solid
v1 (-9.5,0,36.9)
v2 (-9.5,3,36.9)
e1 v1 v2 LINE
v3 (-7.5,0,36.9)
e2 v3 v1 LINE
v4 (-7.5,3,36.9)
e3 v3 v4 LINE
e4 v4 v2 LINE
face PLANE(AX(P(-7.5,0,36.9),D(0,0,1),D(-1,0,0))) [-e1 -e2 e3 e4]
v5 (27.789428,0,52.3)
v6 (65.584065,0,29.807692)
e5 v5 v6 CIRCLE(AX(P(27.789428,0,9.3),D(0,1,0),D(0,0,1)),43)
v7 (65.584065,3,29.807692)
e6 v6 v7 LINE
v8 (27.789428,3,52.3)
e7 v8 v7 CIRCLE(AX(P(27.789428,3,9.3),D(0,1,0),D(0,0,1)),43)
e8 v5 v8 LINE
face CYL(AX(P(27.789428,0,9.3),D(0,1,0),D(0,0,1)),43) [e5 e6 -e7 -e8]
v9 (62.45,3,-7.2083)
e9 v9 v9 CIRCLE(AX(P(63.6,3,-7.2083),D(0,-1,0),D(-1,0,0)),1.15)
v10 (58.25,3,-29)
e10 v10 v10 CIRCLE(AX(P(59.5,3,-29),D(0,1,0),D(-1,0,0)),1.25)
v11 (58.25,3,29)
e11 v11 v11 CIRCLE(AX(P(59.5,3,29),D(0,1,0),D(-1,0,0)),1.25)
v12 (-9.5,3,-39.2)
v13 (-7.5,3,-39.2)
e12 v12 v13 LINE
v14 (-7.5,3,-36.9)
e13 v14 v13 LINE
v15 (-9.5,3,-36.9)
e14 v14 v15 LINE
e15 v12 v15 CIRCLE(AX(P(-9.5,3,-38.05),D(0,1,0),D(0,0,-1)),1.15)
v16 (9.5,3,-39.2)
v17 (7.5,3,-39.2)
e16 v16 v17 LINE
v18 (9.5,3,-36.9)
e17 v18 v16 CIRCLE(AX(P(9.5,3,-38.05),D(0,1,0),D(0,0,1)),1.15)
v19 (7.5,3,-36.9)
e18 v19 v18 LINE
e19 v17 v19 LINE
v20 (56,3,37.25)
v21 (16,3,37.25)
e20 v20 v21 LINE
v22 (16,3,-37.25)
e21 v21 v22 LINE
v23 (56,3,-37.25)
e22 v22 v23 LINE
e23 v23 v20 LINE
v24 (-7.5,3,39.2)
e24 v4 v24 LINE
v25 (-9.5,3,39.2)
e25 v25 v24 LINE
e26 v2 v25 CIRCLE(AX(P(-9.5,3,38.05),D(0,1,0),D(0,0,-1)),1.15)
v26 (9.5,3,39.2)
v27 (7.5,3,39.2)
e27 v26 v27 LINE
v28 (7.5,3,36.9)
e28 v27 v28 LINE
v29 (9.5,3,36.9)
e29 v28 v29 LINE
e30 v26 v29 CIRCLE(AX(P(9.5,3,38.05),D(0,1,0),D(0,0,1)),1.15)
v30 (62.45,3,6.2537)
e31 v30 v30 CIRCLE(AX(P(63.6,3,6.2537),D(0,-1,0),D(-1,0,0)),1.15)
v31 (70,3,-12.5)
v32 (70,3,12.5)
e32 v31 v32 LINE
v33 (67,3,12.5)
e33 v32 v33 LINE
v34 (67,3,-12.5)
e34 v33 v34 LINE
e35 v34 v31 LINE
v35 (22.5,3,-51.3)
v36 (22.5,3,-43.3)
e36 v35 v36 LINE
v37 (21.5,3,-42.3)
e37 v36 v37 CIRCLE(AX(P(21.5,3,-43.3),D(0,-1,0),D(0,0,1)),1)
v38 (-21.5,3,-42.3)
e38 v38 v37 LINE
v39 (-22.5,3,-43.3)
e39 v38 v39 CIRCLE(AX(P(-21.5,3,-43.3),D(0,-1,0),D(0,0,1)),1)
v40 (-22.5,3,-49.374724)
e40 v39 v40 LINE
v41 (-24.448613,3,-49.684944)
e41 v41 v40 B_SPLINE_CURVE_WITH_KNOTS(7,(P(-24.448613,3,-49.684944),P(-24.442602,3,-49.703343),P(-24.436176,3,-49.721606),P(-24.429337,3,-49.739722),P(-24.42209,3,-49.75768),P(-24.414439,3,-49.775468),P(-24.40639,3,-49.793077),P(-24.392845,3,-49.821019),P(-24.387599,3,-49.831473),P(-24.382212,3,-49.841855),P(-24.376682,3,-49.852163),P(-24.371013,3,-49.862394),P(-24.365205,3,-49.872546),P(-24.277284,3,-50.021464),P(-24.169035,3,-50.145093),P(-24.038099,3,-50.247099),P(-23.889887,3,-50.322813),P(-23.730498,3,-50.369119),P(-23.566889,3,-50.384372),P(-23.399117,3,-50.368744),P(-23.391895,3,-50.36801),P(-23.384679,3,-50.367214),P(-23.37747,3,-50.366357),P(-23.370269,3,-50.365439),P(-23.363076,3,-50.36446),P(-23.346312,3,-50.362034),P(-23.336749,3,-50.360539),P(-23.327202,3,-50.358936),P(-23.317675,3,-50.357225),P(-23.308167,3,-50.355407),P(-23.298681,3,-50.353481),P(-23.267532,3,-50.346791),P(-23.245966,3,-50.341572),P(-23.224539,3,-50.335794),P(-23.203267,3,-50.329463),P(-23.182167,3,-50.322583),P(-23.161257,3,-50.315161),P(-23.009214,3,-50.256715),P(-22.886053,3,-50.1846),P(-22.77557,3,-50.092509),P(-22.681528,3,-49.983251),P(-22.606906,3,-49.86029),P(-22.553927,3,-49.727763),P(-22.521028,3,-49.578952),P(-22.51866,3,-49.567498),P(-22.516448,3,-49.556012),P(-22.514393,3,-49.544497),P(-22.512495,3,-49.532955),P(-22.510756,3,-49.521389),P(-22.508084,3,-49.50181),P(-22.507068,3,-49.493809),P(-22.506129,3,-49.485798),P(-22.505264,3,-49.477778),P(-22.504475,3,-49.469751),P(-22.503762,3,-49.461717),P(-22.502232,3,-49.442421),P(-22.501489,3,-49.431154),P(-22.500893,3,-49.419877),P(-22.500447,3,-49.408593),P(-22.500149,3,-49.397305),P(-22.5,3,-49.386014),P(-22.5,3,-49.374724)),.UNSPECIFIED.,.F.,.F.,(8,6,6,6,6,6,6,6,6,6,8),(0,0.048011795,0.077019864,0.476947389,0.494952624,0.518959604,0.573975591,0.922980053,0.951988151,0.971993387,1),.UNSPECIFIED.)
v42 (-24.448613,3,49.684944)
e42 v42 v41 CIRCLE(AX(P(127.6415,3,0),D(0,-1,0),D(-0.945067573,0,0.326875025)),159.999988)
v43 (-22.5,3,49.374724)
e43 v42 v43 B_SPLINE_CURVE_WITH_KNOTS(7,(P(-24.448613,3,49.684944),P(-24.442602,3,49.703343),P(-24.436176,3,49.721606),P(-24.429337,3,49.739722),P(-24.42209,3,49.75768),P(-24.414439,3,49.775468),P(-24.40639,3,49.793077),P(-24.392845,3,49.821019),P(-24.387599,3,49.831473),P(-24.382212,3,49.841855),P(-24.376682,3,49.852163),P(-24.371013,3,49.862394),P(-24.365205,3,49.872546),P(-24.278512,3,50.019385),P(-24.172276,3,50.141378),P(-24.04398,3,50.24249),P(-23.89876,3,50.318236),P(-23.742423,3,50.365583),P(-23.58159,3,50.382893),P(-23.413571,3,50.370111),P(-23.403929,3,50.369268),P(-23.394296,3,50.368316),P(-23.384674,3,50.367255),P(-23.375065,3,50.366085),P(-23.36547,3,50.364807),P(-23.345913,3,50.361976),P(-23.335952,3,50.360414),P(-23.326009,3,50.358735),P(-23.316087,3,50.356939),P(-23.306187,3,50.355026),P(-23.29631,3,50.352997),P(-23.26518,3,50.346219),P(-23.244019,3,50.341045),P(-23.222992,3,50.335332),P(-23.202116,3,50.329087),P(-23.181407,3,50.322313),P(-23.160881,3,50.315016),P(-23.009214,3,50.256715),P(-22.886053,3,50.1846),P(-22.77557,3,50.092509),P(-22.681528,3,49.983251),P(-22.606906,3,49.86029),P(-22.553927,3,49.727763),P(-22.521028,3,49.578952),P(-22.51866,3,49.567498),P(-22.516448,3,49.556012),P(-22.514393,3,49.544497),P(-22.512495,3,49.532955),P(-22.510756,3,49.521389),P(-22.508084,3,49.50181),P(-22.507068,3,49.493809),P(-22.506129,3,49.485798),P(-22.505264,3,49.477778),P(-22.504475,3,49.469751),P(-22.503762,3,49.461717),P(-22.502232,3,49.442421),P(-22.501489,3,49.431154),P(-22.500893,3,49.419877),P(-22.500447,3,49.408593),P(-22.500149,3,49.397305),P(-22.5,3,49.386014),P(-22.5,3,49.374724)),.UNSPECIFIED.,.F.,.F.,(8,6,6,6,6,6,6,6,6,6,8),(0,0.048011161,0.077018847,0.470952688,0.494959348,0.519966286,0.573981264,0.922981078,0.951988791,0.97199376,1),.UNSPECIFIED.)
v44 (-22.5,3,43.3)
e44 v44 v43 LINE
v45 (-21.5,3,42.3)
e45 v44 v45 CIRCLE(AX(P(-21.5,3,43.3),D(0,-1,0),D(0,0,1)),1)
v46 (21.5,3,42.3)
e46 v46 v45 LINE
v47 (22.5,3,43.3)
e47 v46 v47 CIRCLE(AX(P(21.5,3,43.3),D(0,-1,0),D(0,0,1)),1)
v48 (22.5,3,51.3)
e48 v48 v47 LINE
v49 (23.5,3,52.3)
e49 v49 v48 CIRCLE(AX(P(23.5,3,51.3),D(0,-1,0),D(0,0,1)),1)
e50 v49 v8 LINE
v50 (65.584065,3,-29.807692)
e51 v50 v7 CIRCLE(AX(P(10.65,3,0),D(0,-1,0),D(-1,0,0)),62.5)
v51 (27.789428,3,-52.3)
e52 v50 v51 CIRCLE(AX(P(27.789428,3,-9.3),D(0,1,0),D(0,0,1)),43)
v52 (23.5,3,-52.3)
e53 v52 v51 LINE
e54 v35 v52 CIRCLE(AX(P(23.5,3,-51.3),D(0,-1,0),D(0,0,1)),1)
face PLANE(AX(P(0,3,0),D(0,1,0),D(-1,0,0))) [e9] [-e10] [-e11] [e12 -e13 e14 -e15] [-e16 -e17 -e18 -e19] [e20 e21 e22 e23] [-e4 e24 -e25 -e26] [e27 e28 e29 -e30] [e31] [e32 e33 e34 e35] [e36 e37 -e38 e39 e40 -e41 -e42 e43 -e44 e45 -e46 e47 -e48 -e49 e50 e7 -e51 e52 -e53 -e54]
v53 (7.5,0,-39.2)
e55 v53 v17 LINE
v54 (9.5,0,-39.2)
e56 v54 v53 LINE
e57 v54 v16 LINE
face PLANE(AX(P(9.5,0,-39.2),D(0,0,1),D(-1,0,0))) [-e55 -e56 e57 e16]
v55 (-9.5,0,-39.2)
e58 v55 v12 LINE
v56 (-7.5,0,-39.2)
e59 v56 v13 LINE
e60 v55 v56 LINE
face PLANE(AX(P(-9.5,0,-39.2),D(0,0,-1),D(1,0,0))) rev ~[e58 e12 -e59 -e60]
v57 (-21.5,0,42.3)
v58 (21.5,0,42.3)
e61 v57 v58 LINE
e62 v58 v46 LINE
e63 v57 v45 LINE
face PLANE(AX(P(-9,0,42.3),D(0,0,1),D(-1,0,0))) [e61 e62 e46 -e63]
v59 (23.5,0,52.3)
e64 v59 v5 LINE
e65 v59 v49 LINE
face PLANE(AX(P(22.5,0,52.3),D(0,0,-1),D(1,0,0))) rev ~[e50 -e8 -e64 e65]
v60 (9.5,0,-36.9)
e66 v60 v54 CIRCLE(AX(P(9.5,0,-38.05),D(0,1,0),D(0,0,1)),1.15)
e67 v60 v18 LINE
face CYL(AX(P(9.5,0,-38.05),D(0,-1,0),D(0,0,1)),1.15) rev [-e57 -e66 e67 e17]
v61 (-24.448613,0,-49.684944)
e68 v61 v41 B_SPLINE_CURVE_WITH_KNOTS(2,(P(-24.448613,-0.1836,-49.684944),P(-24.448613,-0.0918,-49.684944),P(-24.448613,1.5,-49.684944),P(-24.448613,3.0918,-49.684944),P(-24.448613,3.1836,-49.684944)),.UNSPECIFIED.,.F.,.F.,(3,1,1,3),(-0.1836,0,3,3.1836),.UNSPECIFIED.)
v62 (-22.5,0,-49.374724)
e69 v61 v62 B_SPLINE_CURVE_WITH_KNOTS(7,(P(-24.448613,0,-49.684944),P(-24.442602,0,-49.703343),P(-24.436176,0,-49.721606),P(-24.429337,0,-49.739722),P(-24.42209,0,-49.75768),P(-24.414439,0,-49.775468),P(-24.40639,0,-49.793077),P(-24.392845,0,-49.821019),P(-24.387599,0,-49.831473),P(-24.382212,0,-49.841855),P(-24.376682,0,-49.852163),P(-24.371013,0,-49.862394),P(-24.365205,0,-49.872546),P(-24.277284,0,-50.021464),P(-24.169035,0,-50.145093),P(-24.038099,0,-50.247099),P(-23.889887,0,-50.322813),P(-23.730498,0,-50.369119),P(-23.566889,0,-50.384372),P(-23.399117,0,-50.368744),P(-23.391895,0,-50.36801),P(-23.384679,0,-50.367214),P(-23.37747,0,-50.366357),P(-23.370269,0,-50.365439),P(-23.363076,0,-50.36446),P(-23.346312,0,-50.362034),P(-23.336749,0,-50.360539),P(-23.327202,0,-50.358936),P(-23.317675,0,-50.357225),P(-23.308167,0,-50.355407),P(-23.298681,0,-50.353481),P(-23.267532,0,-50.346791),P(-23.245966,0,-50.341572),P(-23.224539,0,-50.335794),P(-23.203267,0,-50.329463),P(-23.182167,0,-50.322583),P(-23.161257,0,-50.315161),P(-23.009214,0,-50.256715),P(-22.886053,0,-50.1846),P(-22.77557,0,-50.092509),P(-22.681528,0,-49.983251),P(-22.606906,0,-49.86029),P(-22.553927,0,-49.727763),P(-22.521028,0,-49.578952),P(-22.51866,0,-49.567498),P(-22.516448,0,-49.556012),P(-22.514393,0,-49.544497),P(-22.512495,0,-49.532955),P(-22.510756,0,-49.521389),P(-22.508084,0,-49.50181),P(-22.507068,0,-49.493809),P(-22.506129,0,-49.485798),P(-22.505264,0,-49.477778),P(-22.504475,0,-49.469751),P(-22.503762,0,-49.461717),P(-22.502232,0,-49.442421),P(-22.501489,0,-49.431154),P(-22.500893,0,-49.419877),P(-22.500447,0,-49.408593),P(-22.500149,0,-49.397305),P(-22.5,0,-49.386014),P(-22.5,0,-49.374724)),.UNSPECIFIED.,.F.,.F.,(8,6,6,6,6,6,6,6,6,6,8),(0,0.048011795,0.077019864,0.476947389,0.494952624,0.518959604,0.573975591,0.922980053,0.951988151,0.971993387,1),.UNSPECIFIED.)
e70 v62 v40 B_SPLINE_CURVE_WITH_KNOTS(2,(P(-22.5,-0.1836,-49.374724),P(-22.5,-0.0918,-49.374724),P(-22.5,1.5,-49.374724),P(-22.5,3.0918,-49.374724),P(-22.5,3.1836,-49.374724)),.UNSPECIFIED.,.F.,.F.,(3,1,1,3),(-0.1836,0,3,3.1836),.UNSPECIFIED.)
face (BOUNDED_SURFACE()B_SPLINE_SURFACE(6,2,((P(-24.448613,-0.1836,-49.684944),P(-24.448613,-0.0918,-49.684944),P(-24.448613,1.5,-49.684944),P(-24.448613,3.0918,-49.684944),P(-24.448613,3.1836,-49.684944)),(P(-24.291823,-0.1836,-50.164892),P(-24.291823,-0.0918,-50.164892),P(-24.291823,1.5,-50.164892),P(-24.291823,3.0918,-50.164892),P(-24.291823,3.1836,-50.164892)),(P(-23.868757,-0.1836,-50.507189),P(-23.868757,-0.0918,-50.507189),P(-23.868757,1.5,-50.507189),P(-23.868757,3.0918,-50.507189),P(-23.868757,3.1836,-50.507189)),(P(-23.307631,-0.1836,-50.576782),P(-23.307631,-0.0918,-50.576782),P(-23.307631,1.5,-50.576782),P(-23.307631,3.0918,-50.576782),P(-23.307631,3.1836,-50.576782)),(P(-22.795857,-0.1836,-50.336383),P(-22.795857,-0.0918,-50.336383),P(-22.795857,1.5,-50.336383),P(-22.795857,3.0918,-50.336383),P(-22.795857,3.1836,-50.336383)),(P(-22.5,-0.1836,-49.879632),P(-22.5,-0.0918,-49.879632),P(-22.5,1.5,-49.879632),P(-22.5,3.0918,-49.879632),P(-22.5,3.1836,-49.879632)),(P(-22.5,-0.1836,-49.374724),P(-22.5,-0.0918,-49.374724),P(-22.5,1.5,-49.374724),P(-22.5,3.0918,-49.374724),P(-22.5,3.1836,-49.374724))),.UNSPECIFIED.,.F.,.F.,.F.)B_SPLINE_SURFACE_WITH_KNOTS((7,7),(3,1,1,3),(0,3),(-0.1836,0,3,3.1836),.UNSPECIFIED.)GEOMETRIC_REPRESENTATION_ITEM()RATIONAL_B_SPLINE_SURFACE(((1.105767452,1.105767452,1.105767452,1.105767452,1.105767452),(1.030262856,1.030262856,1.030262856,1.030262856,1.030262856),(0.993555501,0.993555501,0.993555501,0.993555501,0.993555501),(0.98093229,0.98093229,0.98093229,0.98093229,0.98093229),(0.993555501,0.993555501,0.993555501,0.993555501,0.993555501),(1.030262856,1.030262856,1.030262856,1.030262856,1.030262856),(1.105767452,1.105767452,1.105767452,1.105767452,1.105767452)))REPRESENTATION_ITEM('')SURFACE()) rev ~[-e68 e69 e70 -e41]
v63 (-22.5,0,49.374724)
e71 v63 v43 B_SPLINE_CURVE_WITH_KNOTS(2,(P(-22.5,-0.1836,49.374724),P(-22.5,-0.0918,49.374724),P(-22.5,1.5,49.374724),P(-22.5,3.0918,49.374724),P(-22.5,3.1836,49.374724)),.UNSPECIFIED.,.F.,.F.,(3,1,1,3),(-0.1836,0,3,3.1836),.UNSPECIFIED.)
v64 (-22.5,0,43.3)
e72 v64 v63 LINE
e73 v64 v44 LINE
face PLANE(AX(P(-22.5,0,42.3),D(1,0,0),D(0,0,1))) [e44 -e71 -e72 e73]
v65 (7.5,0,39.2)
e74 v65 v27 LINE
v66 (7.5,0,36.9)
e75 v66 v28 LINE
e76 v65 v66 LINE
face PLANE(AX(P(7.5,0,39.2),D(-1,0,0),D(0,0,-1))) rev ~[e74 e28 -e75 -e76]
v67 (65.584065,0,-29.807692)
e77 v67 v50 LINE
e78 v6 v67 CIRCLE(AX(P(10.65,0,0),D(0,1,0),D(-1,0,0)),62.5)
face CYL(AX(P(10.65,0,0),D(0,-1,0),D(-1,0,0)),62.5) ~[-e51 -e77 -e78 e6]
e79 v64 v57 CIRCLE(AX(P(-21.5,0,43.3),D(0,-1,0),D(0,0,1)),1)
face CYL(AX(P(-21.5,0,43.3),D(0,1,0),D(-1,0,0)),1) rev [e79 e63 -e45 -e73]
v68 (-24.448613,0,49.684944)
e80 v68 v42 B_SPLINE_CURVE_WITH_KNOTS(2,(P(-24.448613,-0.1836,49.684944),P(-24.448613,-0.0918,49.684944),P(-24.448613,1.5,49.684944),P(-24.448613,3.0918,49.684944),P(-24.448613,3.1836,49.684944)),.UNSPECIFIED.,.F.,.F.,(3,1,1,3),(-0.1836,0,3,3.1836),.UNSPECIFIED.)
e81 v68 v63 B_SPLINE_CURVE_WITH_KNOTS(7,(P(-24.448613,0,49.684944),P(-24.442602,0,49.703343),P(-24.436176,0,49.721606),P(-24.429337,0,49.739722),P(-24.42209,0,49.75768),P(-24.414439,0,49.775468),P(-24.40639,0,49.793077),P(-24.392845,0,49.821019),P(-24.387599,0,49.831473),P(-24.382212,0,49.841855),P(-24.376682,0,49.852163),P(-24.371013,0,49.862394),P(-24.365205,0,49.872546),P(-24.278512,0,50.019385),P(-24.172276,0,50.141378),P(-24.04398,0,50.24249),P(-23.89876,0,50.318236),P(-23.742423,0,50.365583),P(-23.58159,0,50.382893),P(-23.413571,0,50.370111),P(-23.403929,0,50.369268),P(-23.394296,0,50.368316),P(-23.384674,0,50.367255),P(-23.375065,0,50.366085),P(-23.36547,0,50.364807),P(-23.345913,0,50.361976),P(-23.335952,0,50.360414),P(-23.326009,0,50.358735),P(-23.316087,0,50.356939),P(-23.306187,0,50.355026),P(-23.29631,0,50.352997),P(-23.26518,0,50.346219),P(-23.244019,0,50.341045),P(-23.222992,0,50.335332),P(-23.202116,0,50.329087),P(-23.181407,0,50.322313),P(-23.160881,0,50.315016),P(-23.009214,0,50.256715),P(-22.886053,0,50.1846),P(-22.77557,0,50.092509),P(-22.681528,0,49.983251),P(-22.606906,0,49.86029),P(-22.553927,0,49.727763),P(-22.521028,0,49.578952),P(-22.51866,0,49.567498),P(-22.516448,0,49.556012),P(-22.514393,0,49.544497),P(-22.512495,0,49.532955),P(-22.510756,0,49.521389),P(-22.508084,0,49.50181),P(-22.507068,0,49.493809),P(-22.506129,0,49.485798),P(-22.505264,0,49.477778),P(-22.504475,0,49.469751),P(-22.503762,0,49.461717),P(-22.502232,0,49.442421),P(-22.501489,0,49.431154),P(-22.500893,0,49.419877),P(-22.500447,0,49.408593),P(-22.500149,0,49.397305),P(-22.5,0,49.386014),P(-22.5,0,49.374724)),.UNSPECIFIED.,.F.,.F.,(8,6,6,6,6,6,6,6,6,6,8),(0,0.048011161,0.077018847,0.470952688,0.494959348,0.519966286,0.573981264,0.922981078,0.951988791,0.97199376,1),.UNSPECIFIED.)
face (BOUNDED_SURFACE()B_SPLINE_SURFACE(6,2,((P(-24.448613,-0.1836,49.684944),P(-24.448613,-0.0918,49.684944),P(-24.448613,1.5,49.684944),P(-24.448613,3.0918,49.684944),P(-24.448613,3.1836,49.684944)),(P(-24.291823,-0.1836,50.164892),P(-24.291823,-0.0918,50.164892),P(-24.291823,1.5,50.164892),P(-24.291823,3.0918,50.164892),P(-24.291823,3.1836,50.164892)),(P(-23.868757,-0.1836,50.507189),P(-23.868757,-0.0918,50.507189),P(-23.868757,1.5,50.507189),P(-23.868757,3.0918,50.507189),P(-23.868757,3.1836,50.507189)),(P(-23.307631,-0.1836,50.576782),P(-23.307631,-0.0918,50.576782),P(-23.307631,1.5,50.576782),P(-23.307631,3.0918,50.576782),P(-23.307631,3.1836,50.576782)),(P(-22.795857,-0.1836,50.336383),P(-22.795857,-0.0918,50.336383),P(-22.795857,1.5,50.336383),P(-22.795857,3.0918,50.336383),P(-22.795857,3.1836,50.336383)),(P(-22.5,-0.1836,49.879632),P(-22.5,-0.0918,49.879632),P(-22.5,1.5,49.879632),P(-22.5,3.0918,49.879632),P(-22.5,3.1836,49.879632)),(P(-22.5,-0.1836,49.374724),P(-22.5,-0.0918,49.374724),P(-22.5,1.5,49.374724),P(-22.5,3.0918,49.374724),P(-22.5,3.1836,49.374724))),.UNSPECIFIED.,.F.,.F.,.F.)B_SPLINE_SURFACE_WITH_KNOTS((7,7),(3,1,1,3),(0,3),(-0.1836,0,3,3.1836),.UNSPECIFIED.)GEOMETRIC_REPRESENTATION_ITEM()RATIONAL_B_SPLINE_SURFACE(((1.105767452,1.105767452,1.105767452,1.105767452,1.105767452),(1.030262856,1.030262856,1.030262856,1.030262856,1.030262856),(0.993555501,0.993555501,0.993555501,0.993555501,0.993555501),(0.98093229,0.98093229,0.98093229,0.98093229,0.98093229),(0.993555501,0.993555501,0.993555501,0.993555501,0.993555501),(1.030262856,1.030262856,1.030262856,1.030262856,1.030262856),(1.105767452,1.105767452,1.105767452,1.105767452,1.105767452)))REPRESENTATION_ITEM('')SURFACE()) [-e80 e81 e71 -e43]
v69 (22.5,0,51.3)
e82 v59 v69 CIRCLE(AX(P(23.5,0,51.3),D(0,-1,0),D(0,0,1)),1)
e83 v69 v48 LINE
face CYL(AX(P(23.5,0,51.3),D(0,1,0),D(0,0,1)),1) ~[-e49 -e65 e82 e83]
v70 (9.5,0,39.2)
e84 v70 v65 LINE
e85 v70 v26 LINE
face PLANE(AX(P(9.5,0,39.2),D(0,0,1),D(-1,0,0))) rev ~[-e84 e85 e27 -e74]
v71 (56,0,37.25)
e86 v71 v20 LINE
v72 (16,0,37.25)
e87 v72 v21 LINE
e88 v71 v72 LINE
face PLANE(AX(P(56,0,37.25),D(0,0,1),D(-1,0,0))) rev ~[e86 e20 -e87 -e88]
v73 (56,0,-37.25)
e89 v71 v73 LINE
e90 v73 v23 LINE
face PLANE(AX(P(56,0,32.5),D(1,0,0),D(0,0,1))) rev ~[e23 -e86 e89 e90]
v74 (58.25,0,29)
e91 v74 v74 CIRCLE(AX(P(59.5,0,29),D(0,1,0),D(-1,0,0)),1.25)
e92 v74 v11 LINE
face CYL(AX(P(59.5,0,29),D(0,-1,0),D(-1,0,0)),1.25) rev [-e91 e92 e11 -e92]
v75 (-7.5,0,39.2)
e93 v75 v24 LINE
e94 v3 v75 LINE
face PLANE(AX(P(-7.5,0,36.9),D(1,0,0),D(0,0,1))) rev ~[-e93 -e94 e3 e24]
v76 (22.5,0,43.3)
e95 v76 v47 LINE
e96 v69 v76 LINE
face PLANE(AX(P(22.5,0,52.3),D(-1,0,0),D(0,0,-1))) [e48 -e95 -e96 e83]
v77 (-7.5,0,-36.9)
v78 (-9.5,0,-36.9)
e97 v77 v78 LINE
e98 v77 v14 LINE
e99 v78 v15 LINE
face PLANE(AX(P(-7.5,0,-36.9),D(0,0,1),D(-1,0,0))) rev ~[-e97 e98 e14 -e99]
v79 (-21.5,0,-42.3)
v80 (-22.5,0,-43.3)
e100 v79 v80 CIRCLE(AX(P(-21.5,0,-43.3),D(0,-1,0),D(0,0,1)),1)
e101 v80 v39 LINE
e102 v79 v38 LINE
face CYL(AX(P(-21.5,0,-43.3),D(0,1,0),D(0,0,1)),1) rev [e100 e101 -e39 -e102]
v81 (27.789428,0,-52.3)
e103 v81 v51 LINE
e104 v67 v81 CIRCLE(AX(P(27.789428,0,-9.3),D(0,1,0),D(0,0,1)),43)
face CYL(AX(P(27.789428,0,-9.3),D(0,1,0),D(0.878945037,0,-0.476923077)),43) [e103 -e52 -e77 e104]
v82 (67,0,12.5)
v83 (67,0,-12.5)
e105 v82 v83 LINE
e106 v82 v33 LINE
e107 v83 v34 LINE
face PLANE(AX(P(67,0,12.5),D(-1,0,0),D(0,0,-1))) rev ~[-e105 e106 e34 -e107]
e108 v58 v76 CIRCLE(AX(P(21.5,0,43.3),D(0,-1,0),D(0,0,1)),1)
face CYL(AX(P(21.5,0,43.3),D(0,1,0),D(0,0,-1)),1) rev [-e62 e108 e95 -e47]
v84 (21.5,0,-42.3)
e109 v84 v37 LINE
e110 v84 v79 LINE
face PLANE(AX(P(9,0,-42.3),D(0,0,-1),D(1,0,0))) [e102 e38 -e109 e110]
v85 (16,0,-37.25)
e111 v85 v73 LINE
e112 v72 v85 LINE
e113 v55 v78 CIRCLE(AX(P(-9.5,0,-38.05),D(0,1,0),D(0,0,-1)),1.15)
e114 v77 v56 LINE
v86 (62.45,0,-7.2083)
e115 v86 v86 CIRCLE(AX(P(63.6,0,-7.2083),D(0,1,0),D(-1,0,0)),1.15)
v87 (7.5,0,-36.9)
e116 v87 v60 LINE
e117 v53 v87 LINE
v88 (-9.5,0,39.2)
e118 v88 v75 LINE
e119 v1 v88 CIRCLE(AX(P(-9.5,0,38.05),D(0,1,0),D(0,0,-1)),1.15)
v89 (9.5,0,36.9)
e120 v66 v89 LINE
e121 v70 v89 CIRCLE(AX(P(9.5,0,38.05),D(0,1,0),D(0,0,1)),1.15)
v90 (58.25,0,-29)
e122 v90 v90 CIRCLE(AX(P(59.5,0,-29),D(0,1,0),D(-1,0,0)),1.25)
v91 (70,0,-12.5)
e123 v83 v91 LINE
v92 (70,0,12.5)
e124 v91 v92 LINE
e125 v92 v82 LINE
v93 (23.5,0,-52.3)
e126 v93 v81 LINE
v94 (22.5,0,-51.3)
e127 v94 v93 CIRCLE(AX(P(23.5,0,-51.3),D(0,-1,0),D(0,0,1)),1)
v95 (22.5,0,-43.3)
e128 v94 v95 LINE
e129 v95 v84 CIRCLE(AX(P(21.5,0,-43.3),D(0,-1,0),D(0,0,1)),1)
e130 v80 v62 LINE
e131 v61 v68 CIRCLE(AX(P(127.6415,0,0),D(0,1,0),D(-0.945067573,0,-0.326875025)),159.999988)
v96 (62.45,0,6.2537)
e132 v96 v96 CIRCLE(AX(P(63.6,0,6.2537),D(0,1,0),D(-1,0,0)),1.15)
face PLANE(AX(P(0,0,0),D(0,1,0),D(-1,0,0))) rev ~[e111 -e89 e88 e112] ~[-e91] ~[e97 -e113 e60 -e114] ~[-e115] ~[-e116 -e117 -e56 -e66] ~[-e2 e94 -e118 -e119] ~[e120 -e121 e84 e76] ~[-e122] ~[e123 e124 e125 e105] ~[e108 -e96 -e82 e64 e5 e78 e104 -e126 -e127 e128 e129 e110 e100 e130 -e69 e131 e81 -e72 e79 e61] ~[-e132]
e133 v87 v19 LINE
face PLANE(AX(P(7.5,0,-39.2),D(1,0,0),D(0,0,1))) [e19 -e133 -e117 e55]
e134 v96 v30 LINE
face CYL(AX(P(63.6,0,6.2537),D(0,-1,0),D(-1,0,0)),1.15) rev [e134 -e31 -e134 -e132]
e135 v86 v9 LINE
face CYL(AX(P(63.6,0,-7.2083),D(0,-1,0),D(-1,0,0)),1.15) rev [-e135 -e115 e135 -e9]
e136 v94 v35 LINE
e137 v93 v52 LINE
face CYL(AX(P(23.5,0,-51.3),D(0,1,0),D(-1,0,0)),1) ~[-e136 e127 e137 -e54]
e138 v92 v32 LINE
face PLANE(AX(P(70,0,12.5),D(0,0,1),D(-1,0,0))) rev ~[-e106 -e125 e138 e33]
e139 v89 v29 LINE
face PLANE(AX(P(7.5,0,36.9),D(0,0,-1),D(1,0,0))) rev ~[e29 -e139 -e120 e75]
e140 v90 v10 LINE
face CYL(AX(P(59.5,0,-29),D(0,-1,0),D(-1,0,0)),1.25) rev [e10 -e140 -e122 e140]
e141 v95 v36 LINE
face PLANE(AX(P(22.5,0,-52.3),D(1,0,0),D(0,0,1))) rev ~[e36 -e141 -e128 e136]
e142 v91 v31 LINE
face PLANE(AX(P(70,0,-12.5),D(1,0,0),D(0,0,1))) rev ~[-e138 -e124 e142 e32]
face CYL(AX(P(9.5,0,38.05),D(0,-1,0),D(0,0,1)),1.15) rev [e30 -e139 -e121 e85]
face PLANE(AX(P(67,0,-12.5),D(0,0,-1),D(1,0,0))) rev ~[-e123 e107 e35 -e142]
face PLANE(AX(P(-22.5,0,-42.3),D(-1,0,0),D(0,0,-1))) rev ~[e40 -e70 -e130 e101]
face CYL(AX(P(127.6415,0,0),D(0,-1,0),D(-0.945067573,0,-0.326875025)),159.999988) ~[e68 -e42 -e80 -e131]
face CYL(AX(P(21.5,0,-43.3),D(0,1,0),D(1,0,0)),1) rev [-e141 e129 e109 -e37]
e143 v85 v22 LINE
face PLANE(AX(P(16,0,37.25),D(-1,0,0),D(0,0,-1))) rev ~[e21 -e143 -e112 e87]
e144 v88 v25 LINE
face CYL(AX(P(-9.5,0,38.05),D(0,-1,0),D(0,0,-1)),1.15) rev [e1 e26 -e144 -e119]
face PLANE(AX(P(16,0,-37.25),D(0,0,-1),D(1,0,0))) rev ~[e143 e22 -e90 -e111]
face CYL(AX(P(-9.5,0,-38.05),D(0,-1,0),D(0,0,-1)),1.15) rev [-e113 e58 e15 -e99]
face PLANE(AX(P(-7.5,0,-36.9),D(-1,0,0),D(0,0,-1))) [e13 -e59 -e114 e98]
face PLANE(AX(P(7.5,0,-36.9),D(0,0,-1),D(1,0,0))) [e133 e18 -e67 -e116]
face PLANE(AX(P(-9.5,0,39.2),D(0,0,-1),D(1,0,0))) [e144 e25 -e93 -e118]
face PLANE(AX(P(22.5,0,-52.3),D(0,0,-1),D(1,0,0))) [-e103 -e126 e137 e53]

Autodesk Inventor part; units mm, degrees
ref_plane "YZ Plane" through (0, 0, 0) normal (1, 0, 0) x (0, 1, 0)
ref_plane "XZ Plane" through (0, 0, 0) normal (0, 1, 0) x (-1, 0, 0)
ref_plane "XY Plane" through (0, 0, 0) normal (0, 0, 1) x (1, 0, 0)
sketch "Boceto2" plane through (0, 0, 0) normal (0, 1, 0) x (-1, 0, 0)
  circle A0 centre (-10.65, 0) radius 62.5
  line L0 (-63, 32.5) -> (-63, -32.5)
  line L1 (-63, -32.5) -> (-33, -32.5)
  line L2 (-33, -32.5) -> (-33, 32.5)
  line L3 (-33, 32.5) -> (-63, 32.5)
  circle A1 centre (-59.5, -29) radius 1.25
  line L4 (0, 6.809) -> (0, -6.809)
  line L5 (10.65, 0) -> (-10.65, 0) construction
  circle A2 centre (-36.5, -29) radius 1.25
  circle A3 centre (-59.5, 29) radius 1.25
  circle A4 centre (-36.5, 29) radius 1.25
  line L6 (7.5, -42.3) -> (-7.5, -42.3)
  line L7 (-7.5, -42.3) -> (-7.5, -25)
  line L8 (-7.5, -25) -> (7.5, -25)
  line L9 (7.5, -25) -> (7.5, -42.3)
  arc A5 (9, -42.3) -> (9, -33.8) centre (9, -38.05) ccw
  line L10 (9, -42.3) -> (7.5, -42.3)
  line L11 (9, -33.8) -> (7.5, -33.8)
  arc A6 (9.5, -39.2) -> (9.5, -36.9) centre (9.5, -38.05) ccw
  line L12 (9.5, -39.2) -> (7.5, -39.2)
  line L13 (7.5, -39.2) -> (7.5, -36.9)
  line L14 (7.5, -36.9) -> (9.5, -36.9)
  line L15 (9.5, -36.9) -> (9.5, -39.2)
  arc A7 (-9, -33.8) -> (-9, -42.3) centre (-9, -38.05) ccw
  line L16 (-9, -42.3) -> (-7.5, -42.3)
  line L17 (-9, -33.8) -> (-7.5, -33.8)
  arc A8 (-9.5, -36.9) -> (-9.5, -39.2) centre (-9.5, -38.05) ccw
  line L18 (-9.5, -39.2) -> (-7.5, -39.2)
  line L19 (-7.5, -39.2) -> (-7.5, -36.9)
  line L20 (-7.5, -36.9) -> (-9.5, -36.9)
  line L21 (-9.5, -36.9) -> (-9.5, -39.2)
  line L22 (7.5, 42.3) -> (-7.5, 42.3)
  line L23 (-7.5, 42.3) -> (-7.5, 25)
  line L24 (-7.5, 25) -> (7.5, 25)
  line L25 (7.5, 25) -> (7.5, 42.3)
  arc A9 (9, 33.8) -> (9, 42.3) centre (9, 38.05) ccw
  line L26 (9, 42.3) -> (7.5, 42.3)
  line L27 (9, 33.8) -> (7.5, 33.8)
  arc A10 (9.5, 36.9) -> (9.5, 39.2) centre (9.5, 38.05) ccw
  line L28 (9.5, 39.2) -> (7.5, 39.2)
  line L29 (7.5, 39.2) -> (7.5, 36.9)
  line L30 (7.5, 36.9) -> (9.5, 36.9)
  line L31 (9.5, 36.9) -> (9.5, 39.2)
  line L32 (-9, 33.8) -> (-7.5, 33.8)
  line L33 (-7.5, 36.9) -> (-9.5, 36.9)
  line L34 (-7.5, 39.2) -> (-7.5, 36.9)
  line L35 (-9.5, 36.9) -> (-9.5, 39.2)
  line L36 (-9.5, 39.2) -> (-7.5, 39.2)
  arc A11 (-9.5, 39.2) -> (-9.5, 36.9) centre (-9.5, 38.05) ccw
  line L37 (-9, 42.3) -> (-7.5, 42.3)
  arc A12 (-9, 42.3) -> (-9, 33.8) centre (-9, 38.05) ccw
  line L38 (-16, -37.25) -> (-56, -37.25)
  line L39 (-56, -37.25) -> (-56, 37.25)
  line L40 (-56, 37.25) -> (-16, 37.25)
  line L41 (-16, 37.25) -> (-16, -37.25)
  line L42 (20.3604, -4.25) -> (0.1604, -4.25)
  line L43 (0.1604, -4.25) -> (0.1604, 4.25)
  line L44 (0.1604, 4.25) -> (20.3604, 4.25)
  line L45 (20.3604, 4.25) -> (20.3604, -4.25)
  line L46 (35.3604, -42.3) -> (-56.6604, -42.3)
  line L47 (-56.6604, -42.3) -> (-56.6604, 42.3)
  line L48 (-56.6604, 42.3) -> (35.3604, 42.3)
  line L49 (35.3604, 42.3) -> (35.3604, -42.3)
  line L50 (-67, -12.5) -> (-70, -12.5)
  line L51 (-70, -12.5) -> (-70, 12.5)
  line L52 (-70, 12.5) -> (-67, 12.5)
  line L53 (-67, 12.5) -> (-67, -12.5)
  line L54 (-19.3, -12.5) -> (-32, -12.5) construction
  line L55 (-32, -12.5) -> (-32, 7.82) construction
  line L56 (-32, 7.82) -> (-19.3, 7.82) construction
  line L57 (-19.3, 7.82) -> (-19.3, -12.5) construction
  line L58 (22.5, 52.3) -> (-22.5, 52.3)
  line L59 (-22.5, 52.3) -> (-22.5, 42.3)
  line L60 (-22.5, 42.3) -> (22.5, 42.3)
  line L61 (22.5, 42.3) -> (22.5, 52.3)
  line L62 (22.5, -52.3) -> (-22.5, -52.3)
  line L63 (-22.5, -52.3) -> (-22.5, -42.3)
  line L64 (-22.5, -42.3) -> (22.5, -42.3)
  line L65 (22.5, -42.3) -> (22.5, -52.3)
  line L66 (22.5, 52.3) -> (23.5693, 52.3)
  line L67 (-22.5, 52.3) -> (-44.8693, 52.3)
  line L68 (22.5, -52.3) -> (23.5693, -52.3)
  line L69 (-22.5, -52.3) -> (-44.8693, -52.3)
  circle A13 centre (-63.6, 6.2537) radius 1.15
  circle A14 centre (-63.6, -7.2083) radius 1.15
  arc A15 (23.5693, -52.3) -> (23.5693, 52.3) centre (-127.6415, 0) ccw
  point P0 (0, 0)
  point P1 (-33, 0)
  point P2 (0, 0)
  point P3 (13.25, -38.05)
  point P4 (10.65, -38.05)
  point P5 (-13.25, -38.05)
  point P6 (-10.65, -38.05)
  point P7 (13.25, 38.05)
  point P8 (10.65, 38.05)
  point P9 (-10.65, 38.05)
  point P10 (-13.25, 38.05)
  point P11 (-16, 0)
  point P12 (20.3604, 0)
  point P13 (-67, 0)
  point P14 (-56.6604, -42.3)
  point P15 (9, 42.3)
  point P16 (47.2734, 42.3)
  point P17 (0, 52.3)
  point P18 (-22.5, -42.3)
  point P19 (22.5, -42.3)
  point P20 (22.5, 42.3)
  dimension "d128" = 125
  dimension "d52" = 65
  dimension "d53" = 30
  dimension "d56" = 3.5
  dimension "d57" = 3.5
  dimension "d60" = 23
  dimension "d63" = 58
  dimension "d78" = 15
  dimension "d79" = 17.3
  dimension "d80" = 8.5
  dimension "d81" = 1.5
  dimension "d82" = 4.25
  dimension "d83" = 1.15
  dimension "d84" = 2.3
  dimension "d86" = 2
  dimension "d87" = 25
  dimension "d88" = 7.5
  dimension "d89" = 40
  dimension "d90" = 74.5
  dimension "d91" = 16
  dimension "d92" = 20.2
  dimension "d93" = 8.5
  dimension "d94" = 3
  dimension "d95" = 25
  dimension "d98" = 11
  dimension "d99" = 12.7
  dimension "d100" = 20.32
  dimension "d101" = 1
  dimension "d102" = 20
  dimension "d108" = 10
  dimension "d113" = 45
  dimension "d114" = 13.462
  dimension "d115" = 3.4
  dimension "d116" = 2.3
  dimension "d119" = 2.3
  dimension "d120" = 33
  dimension "d122" = 160
  dimension "d127" = 15
  dimension "d133" = 10.65
extrude "Extrusión4" add sketch "Boceto2" along normal blind 3 contours A0 L49 | L48 A15 A0 | L49 L46 A15 L48 | A0 A15 L46 | L66 L58 L67 A0 | A15 L48 L61 L66 | A15 L46 A5 L11 L9 L8 L7 L17 A7 L47 L1 L39 L38 L41 L40 L3 L48 A12 L32 L23 L24 L25 L27 A9 | A0 L69 L62 L68 | L68 L65 L46 A15 | L67 L59 L48 A0 | L61 L48 L26 L22 L37 L59 L58 | A0 L46 L63 L69 | L62 L63 L46 L16 L6 L10 L65 | L47 L3 L0 A13 A14 L1 A0 | A9 L27 L25 L30 A10 L28 L26 | L10 L9 L12 A6 L14 L11 A5 | L47 L1 L0 A14 A13 L3 | L3 L39 L1 L47 | L25 L24 L23 L22 | L6 L7 L8 L9 | L39 L40 L41 L38 L1 L2 L3 | L3 L2 L1 L39 | L37 L23 L36 A11 L33 L32 A12 | L28 L31 L30 L25 | A7 L17 L7 L20 A8 L18 L16 | L9 L14 L15 L12 | A13 L0 | L0 A13 | L23 L33 L35 L36 | A10 L31 | A14 L0 | L0 A14 | L18 L21 L20 L7 | L15 A6 | L35 A11 | A8 L21 | A1 | A2 | A3 | A4 | L42 L43 L44 L45 | L50 L51 L52 L53
extrude "Extrusión9" cut sketch "Boceto2" along normal blind 3 contours A0 L49 | L48 A15 A0 | L49 L46 A15 L48 | A0 A15 L46 | L66 L58 L67 A0 | A0 L69 L62 L68 | L61 L48 L26 L22 L37 L59 L58 | L62 L63 L46 L16 L6 L10 L65 | L39 L40 L41 L38 L1 L2 L3 | L3 L2 L1 L39 | L28 L31 L30 L25 | L9 L14 L15 L12 | A13 L0 | L0 A13 | L23 L33 L35 L36 | A10 L31 | A14 L0 | L0 A14 | L18 L21 L20 L7 | L15 A6 | L35 A11 | A8 L21 | A1 | A2 | A3 | A4 | L50 L51 L52 L53
fillet "Empalme6" radius 1 10 edges at (-23.5693, 1.5, 52.3) (-22.5, 1.5, 52.3) (-23.5693, 1.5, -52.3) (-22.5, 1.5, -52.3) (22.5, 1.5, -52.3) (22.5, 1.5, 52.3) (22.5, 1.5, -42.3) (-22.5, 1.5, -42.3) (-22.5, 1.5, 42.3) (22.5, 1.5, 42.3)
fillet "Empalme7" radius 43 2 edges at (44.8693, 1.5, 52.3) (44.8693, 1.5, -52.3)
properties part number "Parte inferior 2 v2" material "Madera (nogal)"
